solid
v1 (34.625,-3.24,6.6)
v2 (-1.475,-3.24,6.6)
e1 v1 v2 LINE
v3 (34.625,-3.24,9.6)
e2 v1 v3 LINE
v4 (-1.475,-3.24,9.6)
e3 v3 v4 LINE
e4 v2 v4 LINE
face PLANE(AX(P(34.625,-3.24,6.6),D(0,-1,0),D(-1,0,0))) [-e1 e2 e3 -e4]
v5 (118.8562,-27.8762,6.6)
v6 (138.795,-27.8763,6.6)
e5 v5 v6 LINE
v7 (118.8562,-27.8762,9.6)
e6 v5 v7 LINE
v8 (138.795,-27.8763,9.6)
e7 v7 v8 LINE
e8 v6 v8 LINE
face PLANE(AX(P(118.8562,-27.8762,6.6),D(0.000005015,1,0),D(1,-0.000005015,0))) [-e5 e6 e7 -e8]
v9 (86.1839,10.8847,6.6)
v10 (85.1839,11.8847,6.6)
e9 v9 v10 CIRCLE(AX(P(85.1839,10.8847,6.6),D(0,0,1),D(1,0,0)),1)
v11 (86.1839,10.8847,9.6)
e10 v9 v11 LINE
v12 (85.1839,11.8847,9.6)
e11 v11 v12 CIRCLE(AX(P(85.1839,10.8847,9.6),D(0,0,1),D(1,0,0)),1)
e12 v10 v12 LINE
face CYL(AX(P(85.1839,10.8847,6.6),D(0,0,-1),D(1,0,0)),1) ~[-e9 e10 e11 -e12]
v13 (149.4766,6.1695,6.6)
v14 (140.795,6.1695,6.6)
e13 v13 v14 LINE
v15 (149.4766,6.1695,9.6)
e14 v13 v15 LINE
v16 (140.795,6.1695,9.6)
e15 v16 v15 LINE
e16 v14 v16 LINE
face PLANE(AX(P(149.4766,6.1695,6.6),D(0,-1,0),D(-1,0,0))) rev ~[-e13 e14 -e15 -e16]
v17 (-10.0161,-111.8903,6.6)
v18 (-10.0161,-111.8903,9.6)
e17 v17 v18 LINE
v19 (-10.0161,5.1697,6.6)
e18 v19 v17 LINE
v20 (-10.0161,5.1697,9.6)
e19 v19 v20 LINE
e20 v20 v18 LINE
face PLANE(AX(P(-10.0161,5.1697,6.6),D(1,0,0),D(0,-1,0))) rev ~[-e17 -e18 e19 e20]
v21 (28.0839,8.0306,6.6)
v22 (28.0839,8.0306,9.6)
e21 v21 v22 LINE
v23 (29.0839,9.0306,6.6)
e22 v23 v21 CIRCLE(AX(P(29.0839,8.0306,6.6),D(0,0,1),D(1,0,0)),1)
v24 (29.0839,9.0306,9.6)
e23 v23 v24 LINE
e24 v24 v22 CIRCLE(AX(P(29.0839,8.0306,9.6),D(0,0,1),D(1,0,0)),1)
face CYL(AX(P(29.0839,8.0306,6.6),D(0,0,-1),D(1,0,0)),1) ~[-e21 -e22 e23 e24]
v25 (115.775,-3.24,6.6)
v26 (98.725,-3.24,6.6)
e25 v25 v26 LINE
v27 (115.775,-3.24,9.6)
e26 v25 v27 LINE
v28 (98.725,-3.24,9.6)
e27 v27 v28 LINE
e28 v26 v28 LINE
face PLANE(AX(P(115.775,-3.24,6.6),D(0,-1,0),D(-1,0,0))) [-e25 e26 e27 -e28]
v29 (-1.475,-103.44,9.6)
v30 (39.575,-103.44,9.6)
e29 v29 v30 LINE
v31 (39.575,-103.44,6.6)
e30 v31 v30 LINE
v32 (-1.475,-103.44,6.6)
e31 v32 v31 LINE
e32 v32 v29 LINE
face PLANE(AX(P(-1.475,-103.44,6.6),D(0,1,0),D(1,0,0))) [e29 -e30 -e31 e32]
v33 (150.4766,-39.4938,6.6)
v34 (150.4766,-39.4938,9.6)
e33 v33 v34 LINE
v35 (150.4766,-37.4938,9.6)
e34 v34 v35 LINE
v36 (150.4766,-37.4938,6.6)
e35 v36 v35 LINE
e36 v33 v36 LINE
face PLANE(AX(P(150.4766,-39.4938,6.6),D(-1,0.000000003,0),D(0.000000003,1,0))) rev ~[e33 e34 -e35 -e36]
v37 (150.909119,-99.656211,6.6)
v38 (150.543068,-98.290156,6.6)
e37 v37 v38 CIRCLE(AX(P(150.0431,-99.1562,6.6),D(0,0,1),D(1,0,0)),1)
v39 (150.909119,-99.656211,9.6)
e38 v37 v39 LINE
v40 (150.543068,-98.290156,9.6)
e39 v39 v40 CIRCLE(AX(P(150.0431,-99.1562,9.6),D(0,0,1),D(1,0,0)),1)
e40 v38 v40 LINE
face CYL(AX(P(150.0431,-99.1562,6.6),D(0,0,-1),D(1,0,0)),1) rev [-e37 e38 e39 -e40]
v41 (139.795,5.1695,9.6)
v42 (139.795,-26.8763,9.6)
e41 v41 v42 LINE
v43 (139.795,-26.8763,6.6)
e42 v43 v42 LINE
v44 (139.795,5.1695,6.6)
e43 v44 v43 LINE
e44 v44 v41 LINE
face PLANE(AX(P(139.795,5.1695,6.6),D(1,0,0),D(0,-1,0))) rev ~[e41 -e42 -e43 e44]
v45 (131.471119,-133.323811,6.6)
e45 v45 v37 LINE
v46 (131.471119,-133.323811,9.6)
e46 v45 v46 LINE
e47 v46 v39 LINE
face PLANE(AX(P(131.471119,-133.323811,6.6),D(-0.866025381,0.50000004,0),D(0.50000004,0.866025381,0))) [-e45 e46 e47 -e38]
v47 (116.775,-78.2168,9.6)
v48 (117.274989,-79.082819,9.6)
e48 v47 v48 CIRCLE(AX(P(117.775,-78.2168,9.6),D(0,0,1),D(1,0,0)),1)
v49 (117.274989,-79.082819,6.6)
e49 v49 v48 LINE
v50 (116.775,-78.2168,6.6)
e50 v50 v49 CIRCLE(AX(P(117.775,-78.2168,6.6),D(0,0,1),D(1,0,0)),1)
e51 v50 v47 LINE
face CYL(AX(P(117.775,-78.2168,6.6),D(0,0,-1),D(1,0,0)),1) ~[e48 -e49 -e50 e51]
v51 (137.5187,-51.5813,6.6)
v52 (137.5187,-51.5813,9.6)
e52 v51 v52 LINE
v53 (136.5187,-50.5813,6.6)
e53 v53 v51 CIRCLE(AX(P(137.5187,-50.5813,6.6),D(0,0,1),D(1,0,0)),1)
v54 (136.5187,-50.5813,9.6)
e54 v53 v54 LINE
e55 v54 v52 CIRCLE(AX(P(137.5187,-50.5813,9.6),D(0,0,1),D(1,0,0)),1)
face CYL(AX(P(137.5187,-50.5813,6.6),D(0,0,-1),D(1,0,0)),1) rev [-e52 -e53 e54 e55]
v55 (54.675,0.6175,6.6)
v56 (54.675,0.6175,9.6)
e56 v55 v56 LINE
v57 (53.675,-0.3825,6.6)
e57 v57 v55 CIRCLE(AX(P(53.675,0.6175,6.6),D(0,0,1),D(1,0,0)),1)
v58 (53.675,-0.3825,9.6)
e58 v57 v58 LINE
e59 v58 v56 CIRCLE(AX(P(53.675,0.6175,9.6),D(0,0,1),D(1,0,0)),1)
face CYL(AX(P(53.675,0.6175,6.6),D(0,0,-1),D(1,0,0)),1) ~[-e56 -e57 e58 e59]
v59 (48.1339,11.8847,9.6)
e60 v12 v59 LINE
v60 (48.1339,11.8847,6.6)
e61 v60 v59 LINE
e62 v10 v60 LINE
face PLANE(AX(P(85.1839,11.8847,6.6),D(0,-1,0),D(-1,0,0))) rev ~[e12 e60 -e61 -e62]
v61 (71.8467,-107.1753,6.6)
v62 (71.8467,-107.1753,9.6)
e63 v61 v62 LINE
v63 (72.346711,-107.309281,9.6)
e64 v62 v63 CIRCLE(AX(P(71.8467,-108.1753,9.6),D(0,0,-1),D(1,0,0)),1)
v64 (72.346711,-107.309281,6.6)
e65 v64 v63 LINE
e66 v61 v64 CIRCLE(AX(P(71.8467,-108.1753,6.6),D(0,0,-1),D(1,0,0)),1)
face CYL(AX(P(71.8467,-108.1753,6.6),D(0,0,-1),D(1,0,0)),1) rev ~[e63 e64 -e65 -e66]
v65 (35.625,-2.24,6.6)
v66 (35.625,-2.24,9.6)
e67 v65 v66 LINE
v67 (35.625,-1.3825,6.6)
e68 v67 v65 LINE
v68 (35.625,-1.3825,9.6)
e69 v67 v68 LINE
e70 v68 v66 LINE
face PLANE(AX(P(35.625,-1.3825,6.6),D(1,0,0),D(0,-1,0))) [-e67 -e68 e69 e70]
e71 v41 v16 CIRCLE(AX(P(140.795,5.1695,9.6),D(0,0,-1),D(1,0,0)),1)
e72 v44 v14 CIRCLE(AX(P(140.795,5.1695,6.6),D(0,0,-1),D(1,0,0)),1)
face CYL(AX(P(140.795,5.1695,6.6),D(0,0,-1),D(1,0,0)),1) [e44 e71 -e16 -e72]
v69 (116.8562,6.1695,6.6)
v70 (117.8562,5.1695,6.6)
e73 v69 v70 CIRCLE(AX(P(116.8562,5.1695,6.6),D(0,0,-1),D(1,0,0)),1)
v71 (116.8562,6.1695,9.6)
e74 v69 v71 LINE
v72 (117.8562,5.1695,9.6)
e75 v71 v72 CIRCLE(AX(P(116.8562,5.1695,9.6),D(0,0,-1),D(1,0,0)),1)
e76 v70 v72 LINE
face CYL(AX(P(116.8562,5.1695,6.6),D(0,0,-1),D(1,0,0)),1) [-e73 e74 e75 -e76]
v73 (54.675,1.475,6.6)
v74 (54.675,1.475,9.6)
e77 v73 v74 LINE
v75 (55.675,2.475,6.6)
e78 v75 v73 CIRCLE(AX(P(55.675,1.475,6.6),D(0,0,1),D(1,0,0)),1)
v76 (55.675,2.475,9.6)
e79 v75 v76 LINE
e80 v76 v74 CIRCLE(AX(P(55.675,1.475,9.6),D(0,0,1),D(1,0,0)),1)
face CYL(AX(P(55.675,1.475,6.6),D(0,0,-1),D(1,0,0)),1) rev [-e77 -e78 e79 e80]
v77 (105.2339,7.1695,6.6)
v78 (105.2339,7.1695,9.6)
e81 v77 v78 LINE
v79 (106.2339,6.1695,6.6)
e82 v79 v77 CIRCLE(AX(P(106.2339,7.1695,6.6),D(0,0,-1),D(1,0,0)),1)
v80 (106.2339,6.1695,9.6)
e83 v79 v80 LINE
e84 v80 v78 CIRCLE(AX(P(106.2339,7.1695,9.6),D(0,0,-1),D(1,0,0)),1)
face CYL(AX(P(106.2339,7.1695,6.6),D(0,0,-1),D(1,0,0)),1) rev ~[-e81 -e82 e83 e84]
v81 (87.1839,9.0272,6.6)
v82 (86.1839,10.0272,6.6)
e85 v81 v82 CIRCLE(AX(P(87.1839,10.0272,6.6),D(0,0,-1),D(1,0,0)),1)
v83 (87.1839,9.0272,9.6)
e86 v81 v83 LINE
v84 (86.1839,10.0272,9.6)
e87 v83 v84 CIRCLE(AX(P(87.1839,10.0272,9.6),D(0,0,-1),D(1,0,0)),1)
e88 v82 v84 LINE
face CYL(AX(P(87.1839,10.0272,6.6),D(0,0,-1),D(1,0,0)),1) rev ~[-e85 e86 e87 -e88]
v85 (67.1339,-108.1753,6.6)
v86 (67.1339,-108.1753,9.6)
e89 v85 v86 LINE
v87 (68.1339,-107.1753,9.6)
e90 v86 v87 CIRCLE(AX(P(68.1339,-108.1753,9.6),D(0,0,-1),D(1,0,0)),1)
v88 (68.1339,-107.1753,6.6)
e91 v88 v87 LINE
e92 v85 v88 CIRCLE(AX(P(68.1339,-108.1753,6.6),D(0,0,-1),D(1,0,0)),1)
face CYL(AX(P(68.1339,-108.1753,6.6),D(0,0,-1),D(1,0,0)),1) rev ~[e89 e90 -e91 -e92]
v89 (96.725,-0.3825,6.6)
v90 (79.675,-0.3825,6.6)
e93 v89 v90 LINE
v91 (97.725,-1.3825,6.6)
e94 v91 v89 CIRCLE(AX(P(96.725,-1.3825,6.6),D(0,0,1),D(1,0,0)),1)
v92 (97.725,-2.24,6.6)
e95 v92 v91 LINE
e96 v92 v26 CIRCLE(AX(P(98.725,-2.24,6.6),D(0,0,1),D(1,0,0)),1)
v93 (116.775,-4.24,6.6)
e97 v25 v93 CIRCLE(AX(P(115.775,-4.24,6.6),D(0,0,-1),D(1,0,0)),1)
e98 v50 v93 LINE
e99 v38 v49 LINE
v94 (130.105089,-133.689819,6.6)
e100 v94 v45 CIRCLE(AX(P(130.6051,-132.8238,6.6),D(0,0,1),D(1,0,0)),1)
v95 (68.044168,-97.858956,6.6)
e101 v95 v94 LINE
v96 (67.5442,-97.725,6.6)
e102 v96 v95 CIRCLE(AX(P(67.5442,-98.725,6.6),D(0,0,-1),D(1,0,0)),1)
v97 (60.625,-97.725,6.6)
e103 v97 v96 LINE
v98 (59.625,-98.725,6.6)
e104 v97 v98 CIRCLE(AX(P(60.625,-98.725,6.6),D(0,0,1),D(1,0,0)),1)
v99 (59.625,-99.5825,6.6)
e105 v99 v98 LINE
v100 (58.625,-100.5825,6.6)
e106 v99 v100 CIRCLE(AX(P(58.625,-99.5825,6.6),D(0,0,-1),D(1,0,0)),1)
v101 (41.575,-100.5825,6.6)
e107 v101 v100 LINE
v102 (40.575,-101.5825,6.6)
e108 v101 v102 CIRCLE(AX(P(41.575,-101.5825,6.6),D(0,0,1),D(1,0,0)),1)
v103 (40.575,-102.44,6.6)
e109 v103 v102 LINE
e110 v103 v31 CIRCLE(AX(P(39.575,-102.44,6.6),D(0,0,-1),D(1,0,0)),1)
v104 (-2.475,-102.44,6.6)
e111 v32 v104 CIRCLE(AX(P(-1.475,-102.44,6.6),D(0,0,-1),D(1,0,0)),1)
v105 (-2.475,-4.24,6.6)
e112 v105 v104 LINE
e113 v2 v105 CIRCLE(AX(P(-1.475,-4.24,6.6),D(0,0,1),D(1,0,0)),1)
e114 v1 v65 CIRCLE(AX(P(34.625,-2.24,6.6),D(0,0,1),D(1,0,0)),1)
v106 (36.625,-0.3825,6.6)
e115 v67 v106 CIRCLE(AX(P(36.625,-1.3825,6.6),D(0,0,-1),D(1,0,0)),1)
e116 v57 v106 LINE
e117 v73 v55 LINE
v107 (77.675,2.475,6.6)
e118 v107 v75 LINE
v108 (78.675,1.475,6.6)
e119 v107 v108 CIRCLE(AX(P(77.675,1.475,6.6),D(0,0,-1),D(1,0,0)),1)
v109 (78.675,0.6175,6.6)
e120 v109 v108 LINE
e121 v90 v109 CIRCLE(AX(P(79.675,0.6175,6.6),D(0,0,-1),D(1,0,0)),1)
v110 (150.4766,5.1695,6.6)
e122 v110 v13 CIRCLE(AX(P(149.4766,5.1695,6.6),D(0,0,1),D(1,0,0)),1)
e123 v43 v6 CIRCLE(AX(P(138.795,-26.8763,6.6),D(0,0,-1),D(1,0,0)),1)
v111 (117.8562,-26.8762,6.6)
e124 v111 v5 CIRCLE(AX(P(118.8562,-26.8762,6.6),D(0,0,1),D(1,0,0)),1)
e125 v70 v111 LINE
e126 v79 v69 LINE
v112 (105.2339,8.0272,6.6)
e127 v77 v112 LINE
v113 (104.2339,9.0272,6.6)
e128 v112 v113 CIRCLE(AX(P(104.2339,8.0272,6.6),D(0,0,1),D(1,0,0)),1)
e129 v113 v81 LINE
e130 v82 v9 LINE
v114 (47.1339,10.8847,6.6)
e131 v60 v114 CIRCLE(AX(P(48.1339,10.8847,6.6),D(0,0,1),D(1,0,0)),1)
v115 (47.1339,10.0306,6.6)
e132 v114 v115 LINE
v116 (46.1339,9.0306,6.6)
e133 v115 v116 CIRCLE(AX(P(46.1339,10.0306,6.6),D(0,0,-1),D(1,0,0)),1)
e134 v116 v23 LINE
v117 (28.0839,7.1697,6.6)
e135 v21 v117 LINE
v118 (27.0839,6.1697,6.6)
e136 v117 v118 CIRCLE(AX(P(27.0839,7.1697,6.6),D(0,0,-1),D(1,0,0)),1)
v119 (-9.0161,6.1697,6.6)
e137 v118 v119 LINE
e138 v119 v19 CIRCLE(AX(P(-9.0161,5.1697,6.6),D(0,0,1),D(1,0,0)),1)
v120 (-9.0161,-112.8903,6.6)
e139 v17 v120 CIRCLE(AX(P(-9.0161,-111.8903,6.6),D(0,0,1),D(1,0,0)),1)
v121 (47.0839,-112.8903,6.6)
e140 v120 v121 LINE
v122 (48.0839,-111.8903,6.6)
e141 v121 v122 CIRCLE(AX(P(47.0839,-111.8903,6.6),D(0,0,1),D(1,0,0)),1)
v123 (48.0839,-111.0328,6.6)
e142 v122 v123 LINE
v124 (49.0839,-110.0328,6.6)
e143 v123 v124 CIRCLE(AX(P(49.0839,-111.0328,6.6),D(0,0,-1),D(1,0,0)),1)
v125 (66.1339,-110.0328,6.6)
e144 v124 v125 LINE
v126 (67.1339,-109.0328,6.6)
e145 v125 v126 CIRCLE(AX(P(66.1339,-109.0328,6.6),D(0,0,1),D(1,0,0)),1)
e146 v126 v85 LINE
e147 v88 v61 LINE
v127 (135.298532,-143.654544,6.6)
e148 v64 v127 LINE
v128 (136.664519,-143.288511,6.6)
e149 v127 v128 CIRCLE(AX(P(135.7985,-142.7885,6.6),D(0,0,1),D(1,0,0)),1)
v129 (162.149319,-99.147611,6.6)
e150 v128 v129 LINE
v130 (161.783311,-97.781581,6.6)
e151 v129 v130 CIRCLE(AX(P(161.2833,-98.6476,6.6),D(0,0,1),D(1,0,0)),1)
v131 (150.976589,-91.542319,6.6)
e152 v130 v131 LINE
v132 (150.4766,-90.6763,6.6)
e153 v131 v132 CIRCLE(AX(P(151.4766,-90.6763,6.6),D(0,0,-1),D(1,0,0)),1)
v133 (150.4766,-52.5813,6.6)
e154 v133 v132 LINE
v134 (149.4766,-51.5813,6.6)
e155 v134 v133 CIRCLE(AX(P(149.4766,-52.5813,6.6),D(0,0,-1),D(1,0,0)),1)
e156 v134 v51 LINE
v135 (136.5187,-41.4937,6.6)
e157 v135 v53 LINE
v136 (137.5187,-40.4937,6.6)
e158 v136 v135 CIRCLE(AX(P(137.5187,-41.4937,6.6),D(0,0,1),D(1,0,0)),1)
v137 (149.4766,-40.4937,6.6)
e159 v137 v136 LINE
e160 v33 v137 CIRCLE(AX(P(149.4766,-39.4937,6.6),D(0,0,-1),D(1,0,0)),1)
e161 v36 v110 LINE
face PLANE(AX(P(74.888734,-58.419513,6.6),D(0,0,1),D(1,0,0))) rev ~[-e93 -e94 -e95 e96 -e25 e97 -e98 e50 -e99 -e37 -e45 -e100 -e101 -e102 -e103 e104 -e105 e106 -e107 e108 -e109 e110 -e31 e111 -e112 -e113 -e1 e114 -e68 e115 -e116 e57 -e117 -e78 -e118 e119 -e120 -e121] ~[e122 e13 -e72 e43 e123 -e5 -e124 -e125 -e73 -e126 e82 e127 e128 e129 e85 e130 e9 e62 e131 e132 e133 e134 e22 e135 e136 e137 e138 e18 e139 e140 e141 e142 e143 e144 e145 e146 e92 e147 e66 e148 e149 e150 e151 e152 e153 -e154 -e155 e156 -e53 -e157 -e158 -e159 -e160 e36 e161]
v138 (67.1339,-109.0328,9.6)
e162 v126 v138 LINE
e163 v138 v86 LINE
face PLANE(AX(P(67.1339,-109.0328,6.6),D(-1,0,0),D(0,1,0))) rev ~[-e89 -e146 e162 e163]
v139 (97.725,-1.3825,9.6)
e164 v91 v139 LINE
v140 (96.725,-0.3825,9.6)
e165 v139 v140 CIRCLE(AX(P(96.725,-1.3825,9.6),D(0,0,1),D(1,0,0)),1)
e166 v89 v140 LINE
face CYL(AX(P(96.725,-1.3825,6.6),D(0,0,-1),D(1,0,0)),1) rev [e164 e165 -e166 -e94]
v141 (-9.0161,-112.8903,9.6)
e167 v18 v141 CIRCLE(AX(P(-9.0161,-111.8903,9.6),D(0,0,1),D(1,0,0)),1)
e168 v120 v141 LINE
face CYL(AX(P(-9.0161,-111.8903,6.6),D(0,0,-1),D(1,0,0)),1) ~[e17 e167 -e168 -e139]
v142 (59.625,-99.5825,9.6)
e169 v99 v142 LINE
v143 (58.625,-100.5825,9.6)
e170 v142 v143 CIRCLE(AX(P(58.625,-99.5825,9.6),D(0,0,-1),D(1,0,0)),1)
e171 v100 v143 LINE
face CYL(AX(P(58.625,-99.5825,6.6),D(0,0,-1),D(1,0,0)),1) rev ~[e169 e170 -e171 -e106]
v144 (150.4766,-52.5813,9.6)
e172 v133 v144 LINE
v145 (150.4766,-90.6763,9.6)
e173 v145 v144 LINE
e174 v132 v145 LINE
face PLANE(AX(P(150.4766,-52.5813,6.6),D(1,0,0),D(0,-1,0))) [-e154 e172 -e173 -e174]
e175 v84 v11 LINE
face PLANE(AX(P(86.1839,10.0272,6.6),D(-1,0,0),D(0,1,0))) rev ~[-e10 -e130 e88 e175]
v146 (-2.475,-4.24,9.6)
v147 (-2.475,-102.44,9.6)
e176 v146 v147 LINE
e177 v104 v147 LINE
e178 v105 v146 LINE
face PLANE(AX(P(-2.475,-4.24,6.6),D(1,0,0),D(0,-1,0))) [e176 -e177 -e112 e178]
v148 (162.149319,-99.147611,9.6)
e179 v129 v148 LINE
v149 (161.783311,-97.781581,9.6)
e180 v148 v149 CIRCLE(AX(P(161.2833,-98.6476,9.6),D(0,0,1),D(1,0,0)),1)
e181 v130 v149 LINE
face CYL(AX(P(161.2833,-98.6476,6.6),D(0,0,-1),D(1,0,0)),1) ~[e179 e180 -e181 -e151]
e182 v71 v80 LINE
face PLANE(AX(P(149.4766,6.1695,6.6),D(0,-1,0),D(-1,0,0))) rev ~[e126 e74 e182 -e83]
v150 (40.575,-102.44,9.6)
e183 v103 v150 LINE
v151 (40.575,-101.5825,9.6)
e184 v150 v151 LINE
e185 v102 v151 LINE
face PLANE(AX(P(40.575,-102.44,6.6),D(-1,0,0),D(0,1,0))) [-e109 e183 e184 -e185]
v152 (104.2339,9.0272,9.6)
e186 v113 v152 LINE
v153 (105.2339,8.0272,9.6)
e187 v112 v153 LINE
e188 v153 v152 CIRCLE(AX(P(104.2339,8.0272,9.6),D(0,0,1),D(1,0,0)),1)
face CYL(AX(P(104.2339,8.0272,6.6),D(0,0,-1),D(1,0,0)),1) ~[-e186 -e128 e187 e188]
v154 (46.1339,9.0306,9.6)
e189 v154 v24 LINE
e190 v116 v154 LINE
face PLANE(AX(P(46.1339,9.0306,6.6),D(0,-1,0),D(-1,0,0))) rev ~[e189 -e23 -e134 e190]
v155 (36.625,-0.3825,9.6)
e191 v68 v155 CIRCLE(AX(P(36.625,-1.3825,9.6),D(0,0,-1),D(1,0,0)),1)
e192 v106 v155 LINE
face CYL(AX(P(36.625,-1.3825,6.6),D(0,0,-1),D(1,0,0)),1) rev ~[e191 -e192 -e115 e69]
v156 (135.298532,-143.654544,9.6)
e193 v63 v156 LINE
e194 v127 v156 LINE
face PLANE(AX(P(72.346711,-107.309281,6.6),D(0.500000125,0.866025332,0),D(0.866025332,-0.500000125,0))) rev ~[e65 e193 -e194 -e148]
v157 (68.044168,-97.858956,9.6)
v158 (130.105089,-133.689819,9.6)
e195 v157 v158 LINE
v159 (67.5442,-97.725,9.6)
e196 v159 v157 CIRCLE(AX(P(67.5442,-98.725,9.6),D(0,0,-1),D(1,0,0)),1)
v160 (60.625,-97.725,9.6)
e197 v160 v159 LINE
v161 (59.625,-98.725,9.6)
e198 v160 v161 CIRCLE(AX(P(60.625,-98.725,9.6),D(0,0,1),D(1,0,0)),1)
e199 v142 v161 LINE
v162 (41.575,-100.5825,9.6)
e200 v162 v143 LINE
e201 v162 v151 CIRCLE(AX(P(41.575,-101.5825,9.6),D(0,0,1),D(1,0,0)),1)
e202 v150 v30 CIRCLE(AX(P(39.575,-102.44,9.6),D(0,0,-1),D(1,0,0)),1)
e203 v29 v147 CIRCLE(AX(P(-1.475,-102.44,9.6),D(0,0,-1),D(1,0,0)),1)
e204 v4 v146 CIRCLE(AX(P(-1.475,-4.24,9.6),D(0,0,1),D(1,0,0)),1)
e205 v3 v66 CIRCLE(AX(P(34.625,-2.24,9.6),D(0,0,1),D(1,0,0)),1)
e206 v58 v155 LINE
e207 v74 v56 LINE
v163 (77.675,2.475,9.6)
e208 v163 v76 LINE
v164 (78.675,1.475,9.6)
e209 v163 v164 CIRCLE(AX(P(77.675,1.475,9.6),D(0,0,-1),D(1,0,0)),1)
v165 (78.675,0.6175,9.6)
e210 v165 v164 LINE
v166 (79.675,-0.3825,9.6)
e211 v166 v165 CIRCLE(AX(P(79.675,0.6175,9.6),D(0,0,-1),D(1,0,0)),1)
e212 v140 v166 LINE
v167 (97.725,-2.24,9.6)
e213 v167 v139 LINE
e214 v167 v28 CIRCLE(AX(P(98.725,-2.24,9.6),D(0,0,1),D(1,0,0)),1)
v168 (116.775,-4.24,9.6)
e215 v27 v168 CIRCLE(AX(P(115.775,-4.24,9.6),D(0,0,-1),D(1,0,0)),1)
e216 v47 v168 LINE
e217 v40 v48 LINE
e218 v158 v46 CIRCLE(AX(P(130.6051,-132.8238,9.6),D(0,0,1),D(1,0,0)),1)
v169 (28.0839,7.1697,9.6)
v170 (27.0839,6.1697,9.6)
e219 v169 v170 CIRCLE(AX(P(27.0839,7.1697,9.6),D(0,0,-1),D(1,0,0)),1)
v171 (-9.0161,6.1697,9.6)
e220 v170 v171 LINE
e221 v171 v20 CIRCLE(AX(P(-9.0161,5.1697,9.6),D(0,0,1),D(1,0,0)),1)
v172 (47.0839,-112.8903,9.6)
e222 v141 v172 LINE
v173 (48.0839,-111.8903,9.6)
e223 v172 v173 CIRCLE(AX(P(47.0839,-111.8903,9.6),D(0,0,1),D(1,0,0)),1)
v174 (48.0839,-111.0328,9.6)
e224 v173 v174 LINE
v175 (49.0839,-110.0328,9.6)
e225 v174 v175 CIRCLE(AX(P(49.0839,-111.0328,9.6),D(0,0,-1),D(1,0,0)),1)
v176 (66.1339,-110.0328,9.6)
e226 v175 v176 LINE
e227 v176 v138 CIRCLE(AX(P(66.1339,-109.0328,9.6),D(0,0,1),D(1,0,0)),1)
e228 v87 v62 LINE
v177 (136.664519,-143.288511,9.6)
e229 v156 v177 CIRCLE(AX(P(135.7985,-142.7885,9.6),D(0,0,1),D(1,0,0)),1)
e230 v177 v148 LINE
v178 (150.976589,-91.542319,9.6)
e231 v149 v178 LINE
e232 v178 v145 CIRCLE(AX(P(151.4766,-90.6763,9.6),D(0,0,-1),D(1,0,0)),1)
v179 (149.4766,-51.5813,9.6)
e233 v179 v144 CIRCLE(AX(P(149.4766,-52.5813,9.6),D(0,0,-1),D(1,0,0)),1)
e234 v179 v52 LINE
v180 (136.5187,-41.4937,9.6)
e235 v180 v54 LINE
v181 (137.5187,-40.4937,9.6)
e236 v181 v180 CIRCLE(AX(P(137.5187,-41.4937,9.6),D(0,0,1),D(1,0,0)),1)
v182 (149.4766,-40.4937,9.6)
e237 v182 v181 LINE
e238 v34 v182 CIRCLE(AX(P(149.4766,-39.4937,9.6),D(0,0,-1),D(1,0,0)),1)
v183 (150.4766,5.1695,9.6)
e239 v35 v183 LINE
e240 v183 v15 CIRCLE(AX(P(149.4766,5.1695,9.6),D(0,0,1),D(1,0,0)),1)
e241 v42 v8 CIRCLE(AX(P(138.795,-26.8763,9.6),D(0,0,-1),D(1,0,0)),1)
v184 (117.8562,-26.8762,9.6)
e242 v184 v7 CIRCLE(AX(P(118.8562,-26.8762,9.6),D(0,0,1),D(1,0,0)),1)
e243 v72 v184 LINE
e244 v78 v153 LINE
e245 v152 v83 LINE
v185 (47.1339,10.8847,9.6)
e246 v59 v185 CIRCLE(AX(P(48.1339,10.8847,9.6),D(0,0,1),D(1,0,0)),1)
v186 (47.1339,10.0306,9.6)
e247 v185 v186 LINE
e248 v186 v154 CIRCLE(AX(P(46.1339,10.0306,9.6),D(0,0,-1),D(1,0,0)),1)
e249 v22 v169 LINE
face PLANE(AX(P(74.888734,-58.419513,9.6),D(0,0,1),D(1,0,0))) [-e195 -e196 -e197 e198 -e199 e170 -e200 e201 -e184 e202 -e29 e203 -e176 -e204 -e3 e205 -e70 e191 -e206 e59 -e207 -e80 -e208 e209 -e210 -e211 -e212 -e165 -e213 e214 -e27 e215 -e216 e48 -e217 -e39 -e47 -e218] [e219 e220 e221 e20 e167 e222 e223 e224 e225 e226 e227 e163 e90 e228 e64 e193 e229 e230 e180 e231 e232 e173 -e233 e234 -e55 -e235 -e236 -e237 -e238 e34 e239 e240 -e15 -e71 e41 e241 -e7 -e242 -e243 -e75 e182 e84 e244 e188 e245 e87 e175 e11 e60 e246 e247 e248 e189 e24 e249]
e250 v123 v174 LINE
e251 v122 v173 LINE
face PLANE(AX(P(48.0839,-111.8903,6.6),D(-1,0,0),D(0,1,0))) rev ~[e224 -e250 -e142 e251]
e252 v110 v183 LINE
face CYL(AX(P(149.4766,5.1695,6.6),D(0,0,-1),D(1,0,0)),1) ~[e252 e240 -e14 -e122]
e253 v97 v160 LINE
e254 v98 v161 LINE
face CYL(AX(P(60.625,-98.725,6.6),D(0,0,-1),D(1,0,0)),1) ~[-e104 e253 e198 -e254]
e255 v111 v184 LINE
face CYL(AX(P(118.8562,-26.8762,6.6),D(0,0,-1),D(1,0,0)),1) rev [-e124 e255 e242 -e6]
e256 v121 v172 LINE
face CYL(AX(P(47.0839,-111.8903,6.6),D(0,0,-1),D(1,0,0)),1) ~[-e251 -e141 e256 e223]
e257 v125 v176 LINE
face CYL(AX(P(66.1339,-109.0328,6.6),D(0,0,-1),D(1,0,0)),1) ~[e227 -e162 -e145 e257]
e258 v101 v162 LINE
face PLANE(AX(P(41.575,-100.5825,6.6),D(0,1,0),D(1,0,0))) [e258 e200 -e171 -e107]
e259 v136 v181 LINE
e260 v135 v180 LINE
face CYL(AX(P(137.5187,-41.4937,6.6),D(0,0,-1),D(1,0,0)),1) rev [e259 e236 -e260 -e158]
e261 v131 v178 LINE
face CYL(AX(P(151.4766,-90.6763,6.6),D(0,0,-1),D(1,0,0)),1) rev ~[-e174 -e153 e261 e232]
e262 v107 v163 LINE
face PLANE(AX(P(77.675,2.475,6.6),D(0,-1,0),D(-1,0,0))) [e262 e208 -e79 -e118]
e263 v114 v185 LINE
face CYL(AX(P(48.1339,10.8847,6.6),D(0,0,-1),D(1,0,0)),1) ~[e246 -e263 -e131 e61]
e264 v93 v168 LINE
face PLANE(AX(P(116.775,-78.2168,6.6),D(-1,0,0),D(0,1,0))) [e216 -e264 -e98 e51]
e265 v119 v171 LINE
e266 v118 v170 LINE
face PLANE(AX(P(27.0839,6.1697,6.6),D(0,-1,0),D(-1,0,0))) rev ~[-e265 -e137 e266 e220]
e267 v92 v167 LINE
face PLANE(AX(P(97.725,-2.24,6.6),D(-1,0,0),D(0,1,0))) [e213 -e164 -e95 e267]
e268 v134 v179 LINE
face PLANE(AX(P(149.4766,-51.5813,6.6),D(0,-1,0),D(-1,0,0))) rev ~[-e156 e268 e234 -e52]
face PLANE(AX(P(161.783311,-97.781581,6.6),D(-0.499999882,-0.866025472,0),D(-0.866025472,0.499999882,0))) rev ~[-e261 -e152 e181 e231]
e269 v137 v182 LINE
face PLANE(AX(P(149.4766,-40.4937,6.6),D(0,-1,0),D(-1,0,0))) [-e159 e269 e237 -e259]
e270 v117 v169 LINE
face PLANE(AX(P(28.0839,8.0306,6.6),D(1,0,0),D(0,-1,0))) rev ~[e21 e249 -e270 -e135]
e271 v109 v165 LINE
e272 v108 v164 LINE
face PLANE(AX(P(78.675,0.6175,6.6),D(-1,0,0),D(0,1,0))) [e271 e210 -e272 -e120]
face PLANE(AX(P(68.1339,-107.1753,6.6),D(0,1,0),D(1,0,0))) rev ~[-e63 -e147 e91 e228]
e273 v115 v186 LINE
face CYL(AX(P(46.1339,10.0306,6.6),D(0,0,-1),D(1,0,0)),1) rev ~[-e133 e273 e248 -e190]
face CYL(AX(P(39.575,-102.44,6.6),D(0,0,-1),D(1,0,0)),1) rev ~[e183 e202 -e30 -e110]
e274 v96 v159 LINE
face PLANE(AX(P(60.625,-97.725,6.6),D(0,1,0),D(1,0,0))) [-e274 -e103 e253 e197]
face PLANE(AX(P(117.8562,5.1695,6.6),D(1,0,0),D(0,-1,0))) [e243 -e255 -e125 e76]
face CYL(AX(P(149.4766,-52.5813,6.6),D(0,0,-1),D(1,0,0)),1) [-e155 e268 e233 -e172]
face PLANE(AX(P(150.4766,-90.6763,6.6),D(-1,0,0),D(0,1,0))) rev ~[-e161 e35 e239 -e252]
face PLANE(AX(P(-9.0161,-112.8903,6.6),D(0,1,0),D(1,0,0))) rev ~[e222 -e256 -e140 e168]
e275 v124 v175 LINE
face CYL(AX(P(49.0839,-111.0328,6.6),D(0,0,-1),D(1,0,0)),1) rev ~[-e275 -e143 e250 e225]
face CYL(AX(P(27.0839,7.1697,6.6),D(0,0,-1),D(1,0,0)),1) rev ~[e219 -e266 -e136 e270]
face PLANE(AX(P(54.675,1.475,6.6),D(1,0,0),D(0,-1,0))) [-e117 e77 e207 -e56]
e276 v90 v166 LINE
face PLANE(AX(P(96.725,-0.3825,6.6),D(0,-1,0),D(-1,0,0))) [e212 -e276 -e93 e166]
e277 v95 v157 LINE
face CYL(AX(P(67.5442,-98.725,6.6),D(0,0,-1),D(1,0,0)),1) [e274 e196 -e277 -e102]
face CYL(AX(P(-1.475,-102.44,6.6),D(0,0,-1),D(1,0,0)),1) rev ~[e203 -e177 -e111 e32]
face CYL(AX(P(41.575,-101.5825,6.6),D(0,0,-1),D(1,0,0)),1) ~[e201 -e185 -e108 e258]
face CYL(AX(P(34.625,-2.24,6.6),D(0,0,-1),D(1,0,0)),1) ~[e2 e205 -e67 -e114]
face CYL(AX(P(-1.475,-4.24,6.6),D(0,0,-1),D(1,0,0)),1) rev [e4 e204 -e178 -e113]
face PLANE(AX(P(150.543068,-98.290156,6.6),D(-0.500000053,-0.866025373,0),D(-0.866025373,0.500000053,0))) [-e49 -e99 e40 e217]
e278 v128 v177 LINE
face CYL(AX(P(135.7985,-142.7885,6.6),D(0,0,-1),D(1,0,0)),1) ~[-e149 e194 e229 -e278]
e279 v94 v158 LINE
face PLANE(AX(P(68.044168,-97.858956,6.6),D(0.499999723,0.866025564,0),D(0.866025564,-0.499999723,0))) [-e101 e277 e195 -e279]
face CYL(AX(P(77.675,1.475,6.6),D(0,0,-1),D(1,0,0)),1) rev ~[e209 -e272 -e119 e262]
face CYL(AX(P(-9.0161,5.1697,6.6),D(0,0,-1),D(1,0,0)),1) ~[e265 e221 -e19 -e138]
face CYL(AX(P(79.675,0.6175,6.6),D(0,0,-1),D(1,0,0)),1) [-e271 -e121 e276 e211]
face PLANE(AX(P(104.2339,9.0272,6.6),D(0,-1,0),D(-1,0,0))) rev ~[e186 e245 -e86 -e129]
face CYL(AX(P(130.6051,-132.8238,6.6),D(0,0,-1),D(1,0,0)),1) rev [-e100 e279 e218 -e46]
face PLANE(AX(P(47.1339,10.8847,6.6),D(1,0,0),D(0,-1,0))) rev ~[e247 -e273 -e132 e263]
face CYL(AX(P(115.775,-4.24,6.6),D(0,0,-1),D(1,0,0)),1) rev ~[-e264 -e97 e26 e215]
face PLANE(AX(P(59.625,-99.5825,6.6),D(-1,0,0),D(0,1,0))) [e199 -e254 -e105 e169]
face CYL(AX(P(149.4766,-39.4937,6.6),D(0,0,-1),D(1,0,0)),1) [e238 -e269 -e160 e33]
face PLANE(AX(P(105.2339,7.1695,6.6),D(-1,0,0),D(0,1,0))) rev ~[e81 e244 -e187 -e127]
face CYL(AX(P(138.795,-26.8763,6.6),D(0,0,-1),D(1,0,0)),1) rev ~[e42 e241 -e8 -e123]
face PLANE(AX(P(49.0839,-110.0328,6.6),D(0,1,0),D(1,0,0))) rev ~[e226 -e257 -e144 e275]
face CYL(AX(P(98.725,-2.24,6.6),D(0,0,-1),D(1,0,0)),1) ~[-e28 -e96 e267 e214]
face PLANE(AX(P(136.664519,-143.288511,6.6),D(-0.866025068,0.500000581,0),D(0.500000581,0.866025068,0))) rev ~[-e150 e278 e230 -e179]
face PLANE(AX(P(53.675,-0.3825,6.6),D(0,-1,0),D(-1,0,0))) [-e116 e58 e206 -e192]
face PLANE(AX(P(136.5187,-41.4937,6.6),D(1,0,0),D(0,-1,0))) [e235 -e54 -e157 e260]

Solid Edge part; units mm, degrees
sketch "Sketch1" plane through (0, 0, 6.6) normal (0, 0, 1) x (1, 0, 0)
  line L0 (149.4766, 6.1695) -> (106.2339, 6.1695)
  arc A0 (106.2339, 6.1695) -> (105.2339, 7.1695) centre (106.2339, 7.1695) cw
  line L1 (105.2339, 7.1695) -> (105.2339, 8.0272)
  arc A1 (105.2339, 8.0272) -> (104.2339, 9.0272) centre (104.2339, 8.0272) ccw
  line L2 (104.2339, 9.0272) -> (87.1839, 9.0272)
  arc A2 (87.1839, 9.0272) -> (86.1839, 10.0272) centre (87.1839, 10.0272) cw
  line L3 (86.1839, 10.0272) -> (86.1839, 10.8847)
  arc A3 (86.1839, 10.8847) -> (85.1839, 11.8847) centre (85.1839, 10.8847) ccw
  line L4 (85.1839, 11.8847) -> (48.1339, 11.8847)
  arc A4 (48.1339, 11.8847) -> (47.1339, 10.8847) centre (48.1339, 10.8847) ccw
  line L5 (47.1339, 10.8847) -> (47.1339, 10.0306)
  arc A5 (47.1339, 10.0306) -> (46.1339, 9.0306) centre (46.1339, 10.0306) cw
  line L6 (46.1339, 9.0306) -> (29.0839, 9.0306)
  arc A6 (29.0839, 9.0306) -> (28.0839, 8.0306) centre (29.0839, 8.0306) ccw
  line L7 (28.0839, 8.0306) -> (28.0839, 7.1697)
  arc A7 (28.0839, 7.1697) -> (27.0839, 6.1697) centre (27.0839, 7.1697) cw
  line L8 (27.0839, 6.1697) -> (-9.0161, 6.1697)
  arc A8 (-9.0161, 6.1697) -> (-10.0161, 5.1697) centre (-9.0161, 5.1697) ccw
  line L9 (-10.0161, 5.1697) -> (-10.0161, -111.8903)
  arc A9 (-10.0161, -111.8903) -> (-9.0161, -112.8903) centre (-9.0161, -111.8903) ccw
  line L10 (-9.0161, -112.8903) -> (47.0839, -112.8903)
  arc A10 (47.0839, -112.8903) -> (48.0839, -111.8903) centre (47.0839, -111.8903) ccw
  line L11 (48.0839, -111.8903) -> (48.0839, -111.0328)
  arc A11 (48.0839, -111.0328) -> (49.0839, -110.0328) centre (49.0839, -111.0328) cw
  line L12 (49.0839, -110.0328) -> (66.1339, -110.0328)
  arc A12 (66.1339, -110.0328) -> (67.1339, -109.0328) centre (66.1339, -109.0328) ccw
  line L13 (67.1339, -109.0328) -> (67.1339, -108.1753)
  arc A13 (67.1339, -108.1753) -> (68.1339, -107.1753) centre (68.1339, -108.1753) cw
  line L14 (68.1339, -107.1753) -> (71.8467, -107.1753)
  arc A14 (71.8467, -107.1753) -> (72.3467, -107.3093) centre (71.8467, -108.1753) cw
  line L15 (72.3467, -107.3093) -> (135.2985, -143.6546)
  arc A15 (135.2985, -143.6545) -> (136.6645, -143.2885) centre (135.7985, -142.7885) ccw
  line L16 (136.6646, -143.2885) -> (162.1493, -99.1476)
  arc A16 (162.1493, -99.1476) -> (161.7833, -97.7816) centre (161.2833, -98.6476) ccw
  line L17 (161.7833, -97.7816) -> (150.9766, -91.5423)
  arc A17 (150.9766, -91.5423) -> (150.4766, -90.6763) centre (151.4766, -90.6763) cw
  line L18 (150.4766, -90.6763) -> (150.4766, 5.1695)
  arc A18 (150.4766, 5.1695) -> (149.4766, 6.1695) centre (149.4766, 5.1695) ccw
extrude "Protrusion1" add sketch "Sketch1" along normal blind 3
sketch "Sketch2" plane through (76.1334, -65.9517, 6.6) normal (0, 0, 1) x (1, 0, 0)
  line L0 (39.6416, 62.7117) -> (22.5916, 62.7117)
  arc A0 (21.5916, 63.7117) -> (22.5916, 62.7117) centre (22.5916, 63.7117) ccw
  line L1 (21.5916, 63.7117) -> (21.5916, 64.5692)
  arc A1 (21.5916, 64.5692) -> (20.5916, 65.5692) centre (20.5916, 64.5692) ccw
  line L2 (20.5916, 65.5692) -> (3.5416, 65.5692)
  arc A2 (3.5416, 65.5692) -> (2.5416, 66.5692) centre (3.5416, 66.5692) cw
  line L3 (2.5416, 66.5692) -> (2.5416, 67.4267)
  arc A3 (1.5416, 68.4267) -> (2.5416, 67.4267) centre (1.5416, 67.4267) cw
  line L4 (1.5416, 68.4267) -> (-20.4584, 68.4267)
  arc A4 (-20.4584, 68.4267) -> (-21.4584, 67.4267) centre (-20.4584, 67.4267) ccw
  line L5 (-21.4584, 67.4267) -> (-21.4584, 66.5692)
  arc A5 (-22.4584, 65.5692) -> (-21.4584, 66.5692) centre (-22.4584, 66.5692) ccw
  line L6 (-22.4584, 65.5692) -> (-39.5084, 65.5692)
  arc A6 (-40.5084, 64.5692) -> (-39.5084, 65.5692) centre (-39.5084, 64.5692) cw
  line L7 (-40.5084, 64.5692) -> (-40.5084, 63.7117)
  arc A7 (-41.5084, 62.7117) -> (-40.5084, 63.7117) centre (-41.5084, 63.7117) ccw
  line L8 (-41.5084, 62.7117) -> (-77.6084, 62.7117)
  arc A8 (-77.6084, 62.7117) -> (-78.6084, 61.7117) centre (-77.6084, 61.7117) ccw
  line L9 (-78.6084, 61.7117) -> (-78.6084, -36.4883)
  arc A9 (-77.6084, -37.4883) -> (-78.6084, -36.4883) centre (-77.6084, -36.4883) cw
  line L10 (-77.6084, -37.4883) -> (-36.5584, -37.4883)
  arc A10 (-35.5584, -36.4883) -> (-36.5584, -37.4883) centre (-36.5584, -36.4883) cw
  line L11 (-35.5584, -36.4883) -> (-35.5584, -35.6308)
  arc A11 (-34.5584, -34.6308) -> (-35.5584, -35.6308) centre (-34.5584, -35.6308) ccw
  line L12 (-34.5584, -34.6308) -> (-17.5084, -34.6308)
  arc A12 (-16.5084, -33.6308) -> (-17.5084, -34.6308) centre (-17.5084, -33.6308) cw
  line L13 (-16.5084, -33.6308) -> (-16.5084, -32.7733)
  arc A13 (-15.5084, -31.7733) -> (-16.5084, -32.7733) centre (-15.5084, -32.7733) ccw
  line L14 (-15.5084, -31.7733) -> (-8.5892, -31.7733)
  arc A14 (-8.5892, -31.7733) -> (-8.0892, -31.9072) centre (-8.5892, -32.7733) cw
  line L15 (-8.0892, -31.9073) -> (53.9717, -67.7381)
  arc A15 (53.9717, -67.7381) -> (55.3377, -67.3721) centre (54.4717, -66.8721) ccw
  line L16 (55.3377, -67.3721) -> (74.7757, -33.7045)
  arc A16 (74.7757, -33.7045) -> (74.4097, -32.3384) centre (73.9097, -33.2045) ccw
  line L17 (74.4097, -32.3385) -> (41.1416, -13.1311)
  arc A17 (40.6416, -12.2651) -> (41.1416, -13.1311) centre (41.6416, -12.2651) ccw
  line L18 (40.6416, -12.2651) -> (40.6416, 61.7117)
  arc A18 (39.6416, 62.7117) -> (40.6416, 61.7117) centre (39.6416, 61.7117) cw
extrude "ExtrudedCutout_1" cut sketch "Sketch2" along normal blind 3
sketch "Sketch3" plane through (76.1336, -65.9519, 6.6) normal (0, 0, 1) x (1, 0, 0)
  line L0 (63.6614, 71.1214) -> (63.6614, 39.0756)
  arc A0 (63.6614, 39.0756) -> (62.6614, 38.0756) centre (62.6614, 39.0756) cw
  line L1 (42.7226, 38.0757) -> (62.6614, 38.0756)
  arc A1 (41.7226, 39.0757) -> (42.7226, 38.0757) centre (42.7226, 39.0757) ccw
  line L2 (41.7226, 71.1214) -> (41.7226, 39.0757)
  arc A2 (40.7226, 72.1214) -> (41.7226, 71.1214) centre (40.7226, 71.1214) cw
  line L3 (40.7226, 72.1214) -> (38.7226, 72.1214)
  line L4 (38.7226, 72.1214) -> (38.7226, 76.1215)
  line L5 (66.6614, 76.1215) -> (38.7226, 76.1215)
  line L6 (66.6614, 72.1214) -> (66.6614, 76.1215)
  line L7 (64.6614, 72.1214) -> (66.6614, 72.1214)
  arc A3 (63.6614, 71.1214) -> (64.6614, 72.1214) centre (64.6614, 71.1214) cw
  line L8 (60.3851, 24.4582) -> (60.3851, 15.3706)
  arc A4 (60.3851, 15.3706) -> (61.3851, 14.3706) centre (61.3851, 15.3706) ccw
  line L9 (73.343, 14.3706) -> (61.3851, 14.3706)
  arc A5 (73.343, 14.3706) -> (74.343, 13.3706) centre (73.343, 13.3706) cw
  line L10 (74.343, 13.3706) -> (74.343, 11.3706)
  line L11 (74.343, 11.3706) -> (78.343, 11.3706)
  line L12 (78.343, 11.3706) -> (78.343, 28.4581)
  line L13 (74.343, 28.4581) -> (78.343, 28.4581)
  line L14 (74.343, 26.4581) -> (74.343, 28.4581)
  arc A6 (74.343, 26.4581) -> (73.343, 25.4582) centre (73.343, 26.4582) cw
  line L15 (73.343, 25.4582) -> (61.3851, 25.4582)
  arc A7 (61.3851, 25.4582) -> (60.3851, 24.4582) centre (61.3851, 24.4582) ccw
extrude "ExtrudedCutout_2" cut sketch "Sketch3" along normal blind 3
properties material "ABS Plastic, high impact"
